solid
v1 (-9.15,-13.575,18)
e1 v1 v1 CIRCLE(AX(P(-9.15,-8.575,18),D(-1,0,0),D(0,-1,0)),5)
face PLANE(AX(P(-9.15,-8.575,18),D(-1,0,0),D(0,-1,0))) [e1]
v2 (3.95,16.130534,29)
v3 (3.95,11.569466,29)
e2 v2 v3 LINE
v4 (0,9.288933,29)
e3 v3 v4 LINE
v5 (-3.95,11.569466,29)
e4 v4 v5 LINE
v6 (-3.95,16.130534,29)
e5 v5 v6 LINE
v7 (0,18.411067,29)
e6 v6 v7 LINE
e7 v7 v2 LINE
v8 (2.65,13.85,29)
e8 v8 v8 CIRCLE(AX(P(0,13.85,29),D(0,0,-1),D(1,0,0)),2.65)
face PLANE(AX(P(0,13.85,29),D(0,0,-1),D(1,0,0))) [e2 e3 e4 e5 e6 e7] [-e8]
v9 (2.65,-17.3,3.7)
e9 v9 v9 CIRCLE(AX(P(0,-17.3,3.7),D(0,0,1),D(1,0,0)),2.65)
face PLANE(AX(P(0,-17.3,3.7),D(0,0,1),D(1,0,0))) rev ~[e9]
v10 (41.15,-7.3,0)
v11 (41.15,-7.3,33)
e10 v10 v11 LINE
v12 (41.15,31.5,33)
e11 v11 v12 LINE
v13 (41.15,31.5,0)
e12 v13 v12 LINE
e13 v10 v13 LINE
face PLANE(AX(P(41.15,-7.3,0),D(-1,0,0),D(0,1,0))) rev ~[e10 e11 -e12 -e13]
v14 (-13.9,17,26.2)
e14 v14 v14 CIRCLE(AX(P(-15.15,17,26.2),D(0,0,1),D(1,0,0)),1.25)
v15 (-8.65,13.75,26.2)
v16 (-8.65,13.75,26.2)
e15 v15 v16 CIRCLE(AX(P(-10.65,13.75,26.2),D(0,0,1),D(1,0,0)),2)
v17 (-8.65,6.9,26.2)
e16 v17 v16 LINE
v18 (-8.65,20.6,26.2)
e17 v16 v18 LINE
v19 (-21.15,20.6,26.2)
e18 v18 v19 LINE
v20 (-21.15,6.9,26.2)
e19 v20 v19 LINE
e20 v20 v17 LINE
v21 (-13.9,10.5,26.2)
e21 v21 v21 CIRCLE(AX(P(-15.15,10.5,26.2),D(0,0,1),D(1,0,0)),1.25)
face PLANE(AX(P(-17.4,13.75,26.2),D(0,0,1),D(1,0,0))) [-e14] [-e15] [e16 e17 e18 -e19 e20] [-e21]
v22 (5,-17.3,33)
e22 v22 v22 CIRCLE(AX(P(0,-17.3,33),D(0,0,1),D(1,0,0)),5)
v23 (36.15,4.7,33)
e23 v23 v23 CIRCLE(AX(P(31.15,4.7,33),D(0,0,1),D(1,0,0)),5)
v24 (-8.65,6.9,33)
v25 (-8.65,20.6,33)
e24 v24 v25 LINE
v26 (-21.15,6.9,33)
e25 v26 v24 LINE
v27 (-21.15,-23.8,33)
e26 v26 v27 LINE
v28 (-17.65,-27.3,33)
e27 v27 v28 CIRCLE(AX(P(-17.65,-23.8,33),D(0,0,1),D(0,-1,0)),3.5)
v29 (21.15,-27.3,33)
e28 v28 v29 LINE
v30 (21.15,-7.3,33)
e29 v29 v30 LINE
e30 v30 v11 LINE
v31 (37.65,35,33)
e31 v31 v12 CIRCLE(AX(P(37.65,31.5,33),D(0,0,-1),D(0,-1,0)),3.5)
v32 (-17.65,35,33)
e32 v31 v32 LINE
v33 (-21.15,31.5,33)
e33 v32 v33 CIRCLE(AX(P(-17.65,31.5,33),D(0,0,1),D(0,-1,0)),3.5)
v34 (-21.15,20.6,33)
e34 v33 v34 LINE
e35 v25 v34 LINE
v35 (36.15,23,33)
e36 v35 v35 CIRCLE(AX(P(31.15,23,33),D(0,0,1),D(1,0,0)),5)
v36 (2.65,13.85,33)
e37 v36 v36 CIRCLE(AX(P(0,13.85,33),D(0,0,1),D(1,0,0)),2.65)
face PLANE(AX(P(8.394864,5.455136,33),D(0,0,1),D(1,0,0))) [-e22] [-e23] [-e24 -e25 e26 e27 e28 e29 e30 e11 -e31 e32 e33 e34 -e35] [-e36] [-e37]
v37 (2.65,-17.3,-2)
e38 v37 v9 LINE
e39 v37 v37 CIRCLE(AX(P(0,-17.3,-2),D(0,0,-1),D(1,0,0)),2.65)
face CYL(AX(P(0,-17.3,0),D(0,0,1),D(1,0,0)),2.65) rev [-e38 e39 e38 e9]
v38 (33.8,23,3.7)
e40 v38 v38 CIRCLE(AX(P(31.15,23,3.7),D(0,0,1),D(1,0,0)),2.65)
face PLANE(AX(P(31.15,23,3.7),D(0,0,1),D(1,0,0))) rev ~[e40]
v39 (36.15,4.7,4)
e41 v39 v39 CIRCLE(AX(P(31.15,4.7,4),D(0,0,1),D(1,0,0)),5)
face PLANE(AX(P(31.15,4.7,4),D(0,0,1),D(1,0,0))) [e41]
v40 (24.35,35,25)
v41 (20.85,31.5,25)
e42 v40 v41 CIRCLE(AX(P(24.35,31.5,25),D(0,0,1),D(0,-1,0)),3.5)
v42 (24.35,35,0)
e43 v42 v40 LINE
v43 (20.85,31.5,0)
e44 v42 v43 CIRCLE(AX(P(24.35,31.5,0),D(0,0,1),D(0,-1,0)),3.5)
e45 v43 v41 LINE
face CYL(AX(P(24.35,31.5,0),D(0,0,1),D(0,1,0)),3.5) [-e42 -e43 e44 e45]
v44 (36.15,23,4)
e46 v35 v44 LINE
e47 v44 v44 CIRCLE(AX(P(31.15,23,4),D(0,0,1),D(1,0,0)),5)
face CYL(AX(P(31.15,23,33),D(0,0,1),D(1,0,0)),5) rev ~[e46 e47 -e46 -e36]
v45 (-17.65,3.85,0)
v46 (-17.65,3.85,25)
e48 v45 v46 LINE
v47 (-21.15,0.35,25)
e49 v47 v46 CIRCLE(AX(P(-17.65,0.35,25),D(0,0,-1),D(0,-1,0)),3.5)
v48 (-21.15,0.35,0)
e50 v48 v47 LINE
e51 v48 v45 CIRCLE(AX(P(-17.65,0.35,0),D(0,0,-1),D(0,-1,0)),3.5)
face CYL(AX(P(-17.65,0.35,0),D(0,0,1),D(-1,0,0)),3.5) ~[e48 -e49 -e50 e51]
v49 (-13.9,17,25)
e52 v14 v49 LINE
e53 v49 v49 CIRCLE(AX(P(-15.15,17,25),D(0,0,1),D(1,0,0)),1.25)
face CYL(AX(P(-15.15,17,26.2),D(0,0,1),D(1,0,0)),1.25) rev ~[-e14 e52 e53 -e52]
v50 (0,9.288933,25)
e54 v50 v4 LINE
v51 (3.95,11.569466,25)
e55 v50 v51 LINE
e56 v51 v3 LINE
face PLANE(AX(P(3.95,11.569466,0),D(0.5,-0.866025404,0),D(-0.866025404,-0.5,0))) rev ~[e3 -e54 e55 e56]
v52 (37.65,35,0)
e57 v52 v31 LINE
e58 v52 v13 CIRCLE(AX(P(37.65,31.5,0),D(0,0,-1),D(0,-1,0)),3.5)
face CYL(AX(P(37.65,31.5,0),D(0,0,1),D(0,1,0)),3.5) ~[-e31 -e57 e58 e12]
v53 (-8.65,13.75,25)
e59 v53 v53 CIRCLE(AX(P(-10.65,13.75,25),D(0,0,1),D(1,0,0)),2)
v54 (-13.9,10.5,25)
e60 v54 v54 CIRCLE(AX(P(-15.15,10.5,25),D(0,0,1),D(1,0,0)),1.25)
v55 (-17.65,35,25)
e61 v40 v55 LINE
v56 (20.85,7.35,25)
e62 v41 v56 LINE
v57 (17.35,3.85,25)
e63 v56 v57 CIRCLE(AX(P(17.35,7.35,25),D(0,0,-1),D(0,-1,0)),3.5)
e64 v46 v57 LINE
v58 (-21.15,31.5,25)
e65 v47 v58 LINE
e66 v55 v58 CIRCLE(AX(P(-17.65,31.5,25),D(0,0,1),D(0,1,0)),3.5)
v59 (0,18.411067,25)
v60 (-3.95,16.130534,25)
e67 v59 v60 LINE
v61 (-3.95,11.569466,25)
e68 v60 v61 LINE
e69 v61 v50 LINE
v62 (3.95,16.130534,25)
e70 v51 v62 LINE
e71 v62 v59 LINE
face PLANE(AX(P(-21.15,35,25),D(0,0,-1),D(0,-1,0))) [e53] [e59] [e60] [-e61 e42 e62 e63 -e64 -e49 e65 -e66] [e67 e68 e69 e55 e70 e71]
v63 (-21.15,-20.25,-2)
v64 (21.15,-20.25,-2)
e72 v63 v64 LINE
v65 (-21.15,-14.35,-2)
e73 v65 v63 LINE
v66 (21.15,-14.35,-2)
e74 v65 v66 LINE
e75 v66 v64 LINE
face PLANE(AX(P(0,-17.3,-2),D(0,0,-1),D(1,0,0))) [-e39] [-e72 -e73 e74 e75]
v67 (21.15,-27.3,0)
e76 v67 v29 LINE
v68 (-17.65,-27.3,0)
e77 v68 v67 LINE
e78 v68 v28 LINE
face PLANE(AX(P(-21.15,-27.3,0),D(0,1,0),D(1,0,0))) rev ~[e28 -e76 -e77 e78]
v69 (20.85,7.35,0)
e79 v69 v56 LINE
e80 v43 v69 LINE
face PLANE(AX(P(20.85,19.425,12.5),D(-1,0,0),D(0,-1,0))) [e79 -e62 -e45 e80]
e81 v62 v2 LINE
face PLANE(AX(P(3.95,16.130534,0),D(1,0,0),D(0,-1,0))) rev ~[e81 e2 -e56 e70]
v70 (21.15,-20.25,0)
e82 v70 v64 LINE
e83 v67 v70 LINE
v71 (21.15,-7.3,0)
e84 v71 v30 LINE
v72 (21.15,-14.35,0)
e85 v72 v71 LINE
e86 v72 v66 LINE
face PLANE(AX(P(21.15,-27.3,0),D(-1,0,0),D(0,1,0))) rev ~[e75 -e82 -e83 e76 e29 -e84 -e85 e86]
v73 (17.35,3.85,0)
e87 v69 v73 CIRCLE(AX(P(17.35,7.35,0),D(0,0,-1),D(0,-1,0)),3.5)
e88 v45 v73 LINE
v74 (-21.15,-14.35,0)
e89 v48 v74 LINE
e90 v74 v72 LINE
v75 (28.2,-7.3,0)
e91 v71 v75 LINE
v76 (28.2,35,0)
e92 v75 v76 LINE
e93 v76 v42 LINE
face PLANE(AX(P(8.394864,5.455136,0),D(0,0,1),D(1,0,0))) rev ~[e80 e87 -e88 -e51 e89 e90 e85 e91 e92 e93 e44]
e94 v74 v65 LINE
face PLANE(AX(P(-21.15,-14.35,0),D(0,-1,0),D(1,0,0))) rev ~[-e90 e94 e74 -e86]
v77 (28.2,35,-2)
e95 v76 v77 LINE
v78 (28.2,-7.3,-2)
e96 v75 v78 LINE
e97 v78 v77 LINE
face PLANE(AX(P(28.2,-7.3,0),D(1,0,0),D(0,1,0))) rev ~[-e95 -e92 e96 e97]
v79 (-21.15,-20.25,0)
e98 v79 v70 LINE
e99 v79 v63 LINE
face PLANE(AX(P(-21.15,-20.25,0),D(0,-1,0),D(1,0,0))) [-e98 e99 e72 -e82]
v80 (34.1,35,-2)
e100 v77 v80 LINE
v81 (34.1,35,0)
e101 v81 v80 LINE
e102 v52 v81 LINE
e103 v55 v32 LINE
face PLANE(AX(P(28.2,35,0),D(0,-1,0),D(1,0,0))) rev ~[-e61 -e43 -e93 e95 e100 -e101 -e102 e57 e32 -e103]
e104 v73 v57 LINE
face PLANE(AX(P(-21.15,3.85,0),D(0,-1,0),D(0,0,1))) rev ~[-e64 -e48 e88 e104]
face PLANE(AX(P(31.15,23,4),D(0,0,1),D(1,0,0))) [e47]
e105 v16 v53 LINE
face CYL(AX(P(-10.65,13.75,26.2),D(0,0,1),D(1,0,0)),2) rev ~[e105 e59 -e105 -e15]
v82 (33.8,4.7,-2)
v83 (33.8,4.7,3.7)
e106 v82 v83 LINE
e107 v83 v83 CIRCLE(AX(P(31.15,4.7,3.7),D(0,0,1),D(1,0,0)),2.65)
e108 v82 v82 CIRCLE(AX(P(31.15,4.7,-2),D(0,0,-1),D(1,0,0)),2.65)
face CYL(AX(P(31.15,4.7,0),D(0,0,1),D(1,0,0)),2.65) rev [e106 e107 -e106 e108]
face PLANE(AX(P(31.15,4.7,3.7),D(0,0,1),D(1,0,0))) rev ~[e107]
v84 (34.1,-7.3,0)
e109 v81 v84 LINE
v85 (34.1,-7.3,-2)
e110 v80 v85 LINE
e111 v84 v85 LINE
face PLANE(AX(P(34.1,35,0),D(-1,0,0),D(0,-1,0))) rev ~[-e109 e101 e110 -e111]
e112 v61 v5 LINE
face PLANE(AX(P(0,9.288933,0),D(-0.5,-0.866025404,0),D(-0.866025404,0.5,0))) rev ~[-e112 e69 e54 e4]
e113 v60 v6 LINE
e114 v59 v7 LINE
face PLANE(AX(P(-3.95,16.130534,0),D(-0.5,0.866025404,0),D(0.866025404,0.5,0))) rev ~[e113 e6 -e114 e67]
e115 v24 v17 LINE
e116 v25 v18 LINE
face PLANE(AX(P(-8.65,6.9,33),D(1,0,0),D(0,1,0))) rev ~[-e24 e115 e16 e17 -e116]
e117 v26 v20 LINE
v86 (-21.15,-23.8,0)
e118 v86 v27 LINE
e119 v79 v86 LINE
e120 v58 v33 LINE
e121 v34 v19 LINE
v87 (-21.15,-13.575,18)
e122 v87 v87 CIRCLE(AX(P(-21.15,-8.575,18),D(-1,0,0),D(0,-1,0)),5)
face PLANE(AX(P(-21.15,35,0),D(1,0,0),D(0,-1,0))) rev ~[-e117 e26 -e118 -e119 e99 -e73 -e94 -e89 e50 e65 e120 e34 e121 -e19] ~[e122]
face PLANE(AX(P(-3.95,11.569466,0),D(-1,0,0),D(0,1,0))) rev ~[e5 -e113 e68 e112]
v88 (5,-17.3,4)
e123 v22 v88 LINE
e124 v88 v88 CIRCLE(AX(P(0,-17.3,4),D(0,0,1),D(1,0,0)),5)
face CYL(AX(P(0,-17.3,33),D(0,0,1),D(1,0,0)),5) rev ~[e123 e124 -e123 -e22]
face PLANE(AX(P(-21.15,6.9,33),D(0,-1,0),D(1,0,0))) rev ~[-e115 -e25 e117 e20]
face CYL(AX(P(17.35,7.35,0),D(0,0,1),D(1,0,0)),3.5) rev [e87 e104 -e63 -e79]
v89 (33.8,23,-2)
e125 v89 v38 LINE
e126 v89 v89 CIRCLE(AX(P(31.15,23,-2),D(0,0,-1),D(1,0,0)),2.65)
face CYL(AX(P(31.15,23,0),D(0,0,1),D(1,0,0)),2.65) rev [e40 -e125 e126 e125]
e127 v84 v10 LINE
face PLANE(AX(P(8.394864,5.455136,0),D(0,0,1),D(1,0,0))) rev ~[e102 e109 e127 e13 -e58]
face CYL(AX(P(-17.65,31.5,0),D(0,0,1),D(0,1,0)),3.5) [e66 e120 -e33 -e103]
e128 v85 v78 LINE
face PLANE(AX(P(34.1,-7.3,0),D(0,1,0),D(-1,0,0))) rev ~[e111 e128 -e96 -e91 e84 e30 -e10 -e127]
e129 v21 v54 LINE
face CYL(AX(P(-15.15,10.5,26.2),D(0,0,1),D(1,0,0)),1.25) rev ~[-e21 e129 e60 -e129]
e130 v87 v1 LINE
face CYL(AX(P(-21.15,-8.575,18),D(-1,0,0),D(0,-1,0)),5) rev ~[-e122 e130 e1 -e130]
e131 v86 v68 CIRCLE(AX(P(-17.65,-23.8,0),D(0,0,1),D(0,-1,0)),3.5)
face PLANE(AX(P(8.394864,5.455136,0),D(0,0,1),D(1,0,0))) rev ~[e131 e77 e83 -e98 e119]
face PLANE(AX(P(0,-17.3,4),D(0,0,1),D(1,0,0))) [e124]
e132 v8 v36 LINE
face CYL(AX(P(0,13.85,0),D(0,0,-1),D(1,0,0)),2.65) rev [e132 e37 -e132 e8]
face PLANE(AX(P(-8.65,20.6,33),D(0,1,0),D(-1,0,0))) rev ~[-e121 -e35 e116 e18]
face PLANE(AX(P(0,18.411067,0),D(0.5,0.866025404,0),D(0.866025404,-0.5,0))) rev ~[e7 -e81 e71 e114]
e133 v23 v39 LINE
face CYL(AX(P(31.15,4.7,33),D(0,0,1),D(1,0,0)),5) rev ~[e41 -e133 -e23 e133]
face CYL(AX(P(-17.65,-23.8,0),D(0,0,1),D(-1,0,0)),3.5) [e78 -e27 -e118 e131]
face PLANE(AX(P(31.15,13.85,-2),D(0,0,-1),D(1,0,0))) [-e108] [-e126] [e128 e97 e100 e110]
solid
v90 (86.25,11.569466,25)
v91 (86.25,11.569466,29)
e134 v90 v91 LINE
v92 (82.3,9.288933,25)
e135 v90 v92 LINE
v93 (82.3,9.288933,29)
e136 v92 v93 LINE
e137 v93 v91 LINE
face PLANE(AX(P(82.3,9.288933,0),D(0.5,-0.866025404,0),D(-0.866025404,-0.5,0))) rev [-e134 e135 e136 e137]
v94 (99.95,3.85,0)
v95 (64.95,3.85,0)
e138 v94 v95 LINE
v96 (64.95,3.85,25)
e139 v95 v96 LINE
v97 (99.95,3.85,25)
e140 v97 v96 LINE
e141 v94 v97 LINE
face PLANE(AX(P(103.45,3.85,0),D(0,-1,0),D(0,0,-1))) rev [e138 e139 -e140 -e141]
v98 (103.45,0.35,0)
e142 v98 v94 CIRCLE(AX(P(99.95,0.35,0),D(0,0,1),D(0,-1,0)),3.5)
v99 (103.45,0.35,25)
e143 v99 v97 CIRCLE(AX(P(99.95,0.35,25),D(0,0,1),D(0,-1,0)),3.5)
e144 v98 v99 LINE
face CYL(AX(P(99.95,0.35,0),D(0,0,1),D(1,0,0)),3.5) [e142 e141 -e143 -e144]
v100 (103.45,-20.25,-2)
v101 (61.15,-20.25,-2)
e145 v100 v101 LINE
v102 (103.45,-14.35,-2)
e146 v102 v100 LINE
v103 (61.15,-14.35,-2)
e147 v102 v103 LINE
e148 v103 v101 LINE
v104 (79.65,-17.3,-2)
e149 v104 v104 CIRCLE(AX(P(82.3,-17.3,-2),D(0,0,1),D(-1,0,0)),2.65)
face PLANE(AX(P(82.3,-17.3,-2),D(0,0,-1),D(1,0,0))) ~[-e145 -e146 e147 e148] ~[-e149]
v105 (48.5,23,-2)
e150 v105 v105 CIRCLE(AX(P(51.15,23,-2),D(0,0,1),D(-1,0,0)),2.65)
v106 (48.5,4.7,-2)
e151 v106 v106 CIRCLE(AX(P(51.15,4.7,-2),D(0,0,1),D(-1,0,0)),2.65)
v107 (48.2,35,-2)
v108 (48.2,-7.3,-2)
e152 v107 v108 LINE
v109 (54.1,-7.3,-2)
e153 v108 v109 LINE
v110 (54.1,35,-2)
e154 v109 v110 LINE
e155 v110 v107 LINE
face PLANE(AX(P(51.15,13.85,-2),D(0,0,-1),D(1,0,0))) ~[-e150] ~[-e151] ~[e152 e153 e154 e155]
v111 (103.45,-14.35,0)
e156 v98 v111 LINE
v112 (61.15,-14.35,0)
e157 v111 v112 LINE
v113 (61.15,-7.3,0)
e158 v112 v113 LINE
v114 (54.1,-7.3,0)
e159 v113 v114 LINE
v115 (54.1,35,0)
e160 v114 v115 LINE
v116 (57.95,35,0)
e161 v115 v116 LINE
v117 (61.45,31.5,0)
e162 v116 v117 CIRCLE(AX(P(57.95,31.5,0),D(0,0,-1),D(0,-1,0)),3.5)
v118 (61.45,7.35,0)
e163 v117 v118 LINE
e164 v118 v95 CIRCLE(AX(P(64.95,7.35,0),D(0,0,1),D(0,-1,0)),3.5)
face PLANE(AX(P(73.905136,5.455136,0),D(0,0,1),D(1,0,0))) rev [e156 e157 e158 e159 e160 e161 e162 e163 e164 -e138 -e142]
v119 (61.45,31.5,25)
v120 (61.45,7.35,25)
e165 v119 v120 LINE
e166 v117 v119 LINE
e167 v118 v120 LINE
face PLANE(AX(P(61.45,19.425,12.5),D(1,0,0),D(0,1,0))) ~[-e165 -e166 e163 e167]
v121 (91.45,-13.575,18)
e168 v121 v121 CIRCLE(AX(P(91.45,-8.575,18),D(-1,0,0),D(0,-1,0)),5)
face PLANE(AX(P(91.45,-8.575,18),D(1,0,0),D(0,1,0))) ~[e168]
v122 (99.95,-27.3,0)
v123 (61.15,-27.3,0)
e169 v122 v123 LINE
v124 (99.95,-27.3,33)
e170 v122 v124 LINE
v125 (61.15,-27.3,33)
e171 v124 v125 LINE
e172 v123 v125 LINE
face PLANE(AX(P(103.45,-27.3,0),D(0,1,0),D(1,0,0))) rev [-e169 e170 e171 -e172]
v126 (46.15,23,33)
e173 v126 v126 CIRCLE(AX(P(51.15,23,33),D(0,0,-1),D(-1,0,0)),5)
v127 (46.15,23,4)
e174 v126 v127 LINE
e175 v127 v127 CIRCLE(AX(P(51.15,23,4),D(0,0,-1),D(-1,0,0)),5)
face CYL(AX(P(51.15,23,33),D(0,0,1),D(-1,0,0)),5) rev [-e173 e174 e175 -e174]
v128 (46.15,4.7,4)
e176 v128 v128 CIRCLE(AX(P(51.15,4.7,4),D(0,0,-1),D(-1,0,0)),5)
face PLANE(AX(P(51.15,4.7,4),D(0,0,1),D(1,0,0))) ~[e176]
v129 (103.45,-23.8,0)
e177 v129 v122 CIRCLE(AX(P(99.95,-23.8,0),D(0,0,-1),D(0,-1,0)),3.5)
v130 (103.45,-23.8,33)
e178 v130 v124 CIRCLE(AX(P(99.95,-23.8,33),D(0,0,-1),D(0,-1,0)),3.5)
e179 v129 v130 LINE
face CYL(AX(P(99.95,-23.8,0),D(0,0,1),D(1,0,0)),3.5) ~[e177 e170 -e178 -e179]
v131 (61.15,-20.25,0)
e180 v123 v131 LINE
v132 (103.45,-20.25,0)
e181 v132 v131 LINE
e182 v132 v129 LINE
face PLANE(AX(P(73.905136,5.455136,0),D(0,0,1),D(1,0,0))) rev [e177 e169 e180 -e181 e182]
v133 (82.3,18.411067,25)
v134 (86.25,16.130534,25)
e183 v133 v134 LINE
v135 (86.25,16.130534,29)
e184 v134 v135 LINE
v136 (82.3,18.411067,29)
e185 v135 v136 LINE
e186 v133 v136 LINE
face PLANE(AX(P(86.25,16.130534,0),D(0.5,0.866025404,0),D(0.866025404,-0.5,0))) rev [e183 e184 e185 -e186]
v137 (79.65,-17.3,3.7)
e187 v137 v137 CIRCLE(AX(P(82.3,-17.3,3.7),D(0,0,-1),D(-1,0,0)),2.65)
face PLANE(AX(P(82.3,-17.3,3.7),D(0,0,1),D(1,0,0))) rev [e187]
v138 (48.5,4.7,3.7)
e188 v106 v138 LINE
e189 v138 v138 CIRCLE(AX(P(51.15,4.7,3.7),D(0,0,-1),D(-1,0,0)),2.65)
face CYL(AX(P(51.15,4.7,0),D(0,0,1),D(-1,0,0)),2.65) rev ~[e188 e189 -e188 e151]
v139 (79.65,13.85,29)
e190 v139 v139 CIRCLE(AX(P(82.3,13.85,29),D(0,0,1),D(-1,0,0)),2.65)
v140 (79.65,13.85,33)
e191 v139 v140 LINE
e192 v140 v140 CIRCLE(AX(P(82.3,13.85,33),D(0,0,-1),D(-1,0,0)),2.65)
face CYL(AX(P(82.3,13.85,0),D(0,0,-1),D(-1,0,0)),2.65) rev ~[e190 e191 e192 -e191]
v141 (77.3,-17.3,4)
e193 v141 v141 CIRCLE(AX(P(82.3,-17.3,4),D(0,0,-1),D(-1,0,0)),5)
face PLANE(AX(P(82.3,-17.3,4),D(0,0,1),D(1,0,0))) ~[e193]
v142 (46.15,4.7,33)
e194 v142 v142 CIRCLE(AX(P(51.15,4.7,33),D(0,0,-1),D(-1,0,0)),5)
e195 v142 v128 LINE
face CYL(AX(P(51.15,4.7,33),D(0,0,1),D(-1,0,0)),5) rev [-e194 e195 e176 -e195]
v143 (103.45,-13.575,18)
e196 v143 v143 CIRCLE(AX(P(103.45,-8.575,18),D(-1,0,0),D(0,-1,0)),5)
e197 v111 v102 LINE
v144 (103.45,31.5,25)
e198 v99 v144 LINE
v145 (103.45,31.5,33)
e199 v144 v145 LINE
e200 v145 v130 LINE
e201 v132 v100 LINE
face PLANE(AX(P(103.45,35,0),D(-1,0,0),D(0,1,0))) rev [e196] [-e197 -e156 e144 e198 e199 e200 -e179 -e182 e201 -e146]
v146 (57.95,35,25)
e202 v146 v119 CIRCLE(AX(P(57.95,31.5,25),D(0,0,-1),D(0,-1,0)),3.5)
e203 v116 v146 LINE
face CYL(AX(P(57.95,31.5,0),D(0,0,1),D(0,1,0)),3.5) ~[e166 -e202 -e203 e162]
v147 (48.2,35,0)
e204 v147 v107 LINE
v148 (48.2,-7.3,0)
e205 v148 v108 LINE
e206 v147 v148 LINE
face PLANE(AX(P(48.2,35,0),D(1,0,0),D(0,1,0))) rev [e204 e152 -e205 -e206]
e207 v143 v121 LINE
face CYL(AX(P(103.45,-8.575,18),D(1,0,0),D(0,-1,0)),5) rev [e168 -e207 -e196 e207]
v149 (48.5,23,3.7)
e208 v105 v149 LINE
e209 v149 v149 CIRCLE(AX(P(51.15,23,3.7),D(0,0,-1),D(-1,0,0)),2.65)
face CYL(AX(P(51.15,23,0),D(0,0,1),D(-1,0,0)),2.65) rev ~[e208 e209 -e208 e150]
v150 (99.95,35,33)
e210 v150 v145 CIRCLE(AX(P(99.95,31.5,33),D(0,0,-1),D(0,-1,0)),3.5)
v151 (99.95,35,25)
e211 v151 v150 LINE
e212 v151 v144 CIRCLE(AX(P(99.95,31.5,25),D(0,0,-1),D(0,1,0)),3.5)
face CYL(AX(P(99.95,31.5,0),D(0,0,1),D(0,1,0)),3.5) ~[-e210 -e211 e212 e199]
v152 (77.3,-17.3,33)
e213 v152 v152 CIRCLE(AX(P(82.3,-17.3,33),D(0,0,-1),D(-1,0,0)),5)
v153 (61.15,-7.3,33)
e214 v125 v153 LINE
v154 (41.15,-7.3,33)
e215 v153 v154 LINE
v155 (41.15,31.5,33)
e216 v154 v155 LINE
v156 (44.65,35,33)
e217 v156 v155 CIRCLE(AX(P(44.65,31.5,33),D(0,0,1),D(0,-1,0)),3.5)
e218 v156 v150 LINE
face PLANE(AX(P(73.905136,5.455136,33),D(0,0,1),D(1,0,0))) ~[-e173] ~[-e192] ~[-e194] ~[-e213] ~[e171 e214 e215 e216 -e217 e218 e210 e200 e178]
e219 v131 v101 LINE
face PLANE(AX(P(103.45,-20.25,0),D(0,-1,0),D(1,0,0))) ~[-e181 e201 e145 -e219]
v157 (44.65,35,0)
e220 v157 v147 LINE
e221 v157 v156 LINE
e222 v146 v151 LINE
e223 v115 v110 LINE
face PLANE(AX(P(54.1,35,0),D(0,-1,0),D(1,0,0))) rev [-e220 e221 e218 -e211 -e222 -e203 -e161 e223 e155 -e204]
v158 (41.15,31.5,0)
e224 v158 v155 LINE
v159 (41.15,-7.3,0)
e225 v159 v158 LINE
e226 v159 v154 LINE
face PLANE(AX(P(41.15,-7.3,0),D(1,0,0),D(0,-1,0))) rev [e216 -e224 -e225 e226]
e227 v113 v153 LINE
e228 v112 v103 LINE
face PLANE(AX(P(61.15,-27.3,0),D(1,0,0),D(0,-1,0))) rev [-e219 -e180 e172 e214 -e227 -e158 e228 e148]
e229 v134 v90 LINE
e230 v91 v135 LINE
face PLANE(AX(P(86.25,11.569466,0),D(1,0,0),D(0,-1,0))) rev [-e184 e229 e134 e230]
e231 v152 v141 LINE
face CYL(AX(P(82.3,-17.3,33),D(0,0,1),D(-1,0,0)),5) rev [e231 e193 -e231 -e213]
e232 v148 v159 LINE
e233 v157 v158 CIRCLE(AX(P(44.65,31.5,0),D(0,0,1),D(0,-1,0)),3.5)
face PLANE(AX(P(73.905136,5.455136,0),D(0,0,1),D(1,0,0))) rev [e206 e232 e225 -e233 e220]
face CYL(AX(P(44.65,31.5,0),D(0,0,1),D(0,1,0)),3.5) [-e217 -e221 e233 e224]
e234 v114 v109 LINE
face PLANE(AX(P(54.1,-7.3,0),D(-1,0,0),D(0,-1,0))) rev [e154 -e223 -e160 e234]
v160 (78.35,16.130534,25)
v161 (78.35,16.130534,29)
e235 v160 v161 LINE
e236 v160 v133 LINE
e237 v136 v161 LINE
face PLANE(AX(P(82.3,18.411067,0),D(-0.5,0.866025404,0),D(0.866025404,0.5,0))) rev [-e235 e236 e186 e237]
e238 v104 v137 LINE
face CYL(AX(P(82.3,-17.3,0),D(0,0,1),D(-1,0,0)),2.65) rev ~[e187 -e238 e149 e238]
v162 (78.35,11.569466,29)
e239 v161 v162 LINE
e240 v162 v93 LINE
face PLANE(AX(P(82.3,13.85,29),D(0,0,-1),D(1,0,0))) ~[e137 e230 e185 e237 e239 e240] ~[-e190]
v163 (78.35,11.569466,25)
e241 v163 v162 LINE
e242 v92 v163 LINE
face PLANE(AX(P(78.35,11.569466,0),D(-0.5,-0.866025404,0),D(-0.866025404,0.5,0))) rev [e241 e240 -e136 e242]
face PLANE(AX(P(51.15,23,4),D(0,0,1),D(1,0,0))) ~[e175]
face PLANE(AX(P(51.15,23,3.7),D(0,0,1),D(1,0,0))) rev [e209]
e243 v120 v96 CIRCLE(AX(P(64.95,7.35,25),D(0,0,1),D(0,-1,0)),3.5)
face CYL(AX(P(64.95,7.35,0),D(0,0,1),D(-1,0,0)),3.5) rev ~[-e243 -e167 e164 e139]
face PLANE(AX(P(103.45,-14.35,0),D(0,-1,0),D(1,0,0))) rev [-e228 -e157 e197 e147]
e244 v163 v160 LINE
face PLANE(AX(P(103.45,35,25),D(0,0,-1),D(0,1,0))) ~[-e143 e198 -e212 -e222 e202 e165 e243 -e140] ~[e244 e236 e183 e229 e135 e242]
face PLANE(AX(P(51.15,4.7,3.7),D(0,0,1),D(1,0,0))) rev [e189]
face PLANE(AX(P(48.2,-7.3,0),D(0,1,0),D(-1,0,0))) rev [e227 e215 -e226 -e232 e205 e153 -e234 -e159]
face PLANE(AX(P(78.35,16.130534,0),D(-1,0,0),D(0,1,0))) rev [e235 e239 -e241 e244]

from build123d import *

# Parameters (mm, degrees)
F0_R      = 2.65
F1_DEPTH  = 33
F2_R      = 5
F3_DEPTH  = 12
F5_DEPTH  = 29
F6_R      = 5
F7_DEPTH  = 29
F8_R      = 2.65
F8_W      = 42.3
F8_H      = 5.9
F9_DEPTH  = 2
F10_R     = 3.5
F11_W     = 31.15
F11_H     = 25
F12_DEPTH = 42
F13_R     = 3.5
F14_R     = 2.65
F15_DEPTH = 0.3
F17_W     = 7.5
F17_H     = 13.7
F17_W_2   = 5
F18_DEPTH = 6.8
F19_R     = 1.25
F20_DEPTH = 8
F21_R     = 2
F22_DEPTH = 30


with BuildPart() as f1:
    # F0 (on Top) → F1 (new body)
    with BuildSketch(Plane.XY):
        Polygon((41.15, 35), (-21.15, 35), (-21.15, -27.3), (21.15, -27.3), (21.15, -7.3), (41.15, -7.3), align=None)
        with Locations((0, -17.3)):
            Circle(F0_R, mode=Mode.SUBTRACT)
        with Locations((0, 13.85)):
            Circle(F0_R, mode=Mode.SUBTRACT)
        with Locations((31.15, 4.7)):
            Circle(F0_R, mode=Mode.SUBTRACT)
        with Locations((31.15, 23)):
            Circle(F0_R, mode=Mode.SUBTRACT)
    extrude(amount=F1_DEPTH)

    # F2 (on face) → F3 (cut)
    with BuildSketch(Plane(origin=(-21.15, 0, 0), x_dir=(0, -1, 0), z_dir=(-1, 0, 0))):
        with Locations((8.575, 18)):
            Circle(F2_R)
    extrude(amount=-F3_DEPTH, mode=Mode.SUBTRACT)

    # F4 (on face) → F5 (cut)
    with BuildSketch(Plane(origin=(0, 0, 0), x_dir=(1, 0, 0), z_dir=(0, 0, -1))):
        Polygon((-3.95, -11.5694664367), (-3.95, -16.1305335633), (0, -18.4110671266), (3.95, -16.1305335633), (3.95, -11.5694664367), (0, -9.2889328734), align=None)
    extrude(amount=-F5_DEPTH, mode=Mode.SUBTRACT)

    # F6 (on face) → F7 (cut)
    with BuildSketch(Plane.XY.offset(33)):
        with Locations((31.15, 23)):
            Circle(F6_R)
        with Locations((31.15, 4.7)):
            Circle(F6_R)
        with Locations((0, -17.3)):
            Circle(F6_R)
    extrude(amount=-F7_DEPTH, mode=Mode.SUBTRACT)

    # F8 (on face) → F9 (join)
    with BuildSketch(Plane(origin=(0, 0, 0), x_dir=(1, 0, 0), z_dir=(0, 0, -1))):
        Polygon((34.1, 7.3), (28.2, 7.3), (28.2, -13.5680906466), (28.2, -35), (34.1, -35), (34.1, -13.5680906466), align=None)
        with Locations((31.15, -23)):
            Circle(F8_R, mode=Mode.SUBTRACT)
        with Locations((31.15, -4.7)):
            Circle(F8_R, mode=Mode.SUBTRACT)
        with Locations((0, 17.3)):
            Rectangle(F8_W, F8_H)
        with Locations((0, 17.3)):
            Circle(F8_R, mode=Mode.SUBTRACT)
    extrude(amount=F9_DEPTH)

    # F10
    f10_edges = [f1.edges().sort_by_distance(p)[0] for p in [
        (-21.15, -27.3, 16.5),
        (-21.15, 35, 16.5),
        (41.15, 35, 16.5),
    ]]
    fillet(f10_edges, radius=F10_R)

    # F11 (on face) → F12 (cut)
    with BuildSketch(Plane(origin=(-21.15, 0, 0), x_dir=(0, -1, 0), z_dir=(-1, 0, 0))):
        with Locations((-19.425, 12.5)):
            Rectangle(F11_W, F11_H)
    extrude(amount=-F12_DEPTH, mode=Mode.SUBTRACT)

    # F13
    f13_edges = [f1.edges().sort_by_distance(p)[0] for p in [
        (-21.15, 3.85, 12.5),
        (20.85, 3.85, 12.5),
        (20.85, 35, 12.5),
    ]]
    fillet(f13_edges, radius=F13_R)

    # F14 (on face) → F15 (join)
    with BuildSketch(Plane.XY.offset(4)):
        with Locations((0, -17.3)):
            Circle(F14_R)
        with Locations((31.15, 4.7)):
            Circle(F14_R)
        with Locations((31.15, 23)):
            Circle(F14_R)
    extrude(amount=-F15_DEPTH)


with BuildPart() as f16_1:
    # F16: instance of F1
    add(f1.part.mirror(Plane(origin=(41.15, 12.1, 16.5), x_dir=(0, 1, 0), z_dir=(1, 0, 0))))


with BuildPart() as f1_1:
    add(f1.part)

    # F17 (on face) → F18 (cut)
    with BuildSketch(Plane.XY.offset(33)):
        with Locations((-17.4, 13.75)):
            Rectangle(F17_W, F17_H)
        with Locations((-11.15, 13.75)):
            Rectangle(F17_W_2, F17_H)
    extrude(amount=-F18_DEPTH, mode=Mode.SUBTRACT)

    # F19 (on face) → F20 (cut)
    with BuildSketch(Plane.XY.offset(26.2)):
        with Locations((-15.15, 17)):
            Circle(F19_R)
        with Locations((-15.15, 10.5)):
            Circle(F19_R)
    extrude(amount=-F20_DEPTH, mode=Mode.SUBTRACT)

    # F21 (on face) → F22 (cut)
    with BuildSketch(Plane.XY.offset(26.2)):
        with Locations((-10.65, 13.75)):
            Circle(F21_R)
    extrude(amount=-F22_DEPTH, mode=Mode.SUBTRACT)


solid = Compound([f16_1.part, f1_1.part])
